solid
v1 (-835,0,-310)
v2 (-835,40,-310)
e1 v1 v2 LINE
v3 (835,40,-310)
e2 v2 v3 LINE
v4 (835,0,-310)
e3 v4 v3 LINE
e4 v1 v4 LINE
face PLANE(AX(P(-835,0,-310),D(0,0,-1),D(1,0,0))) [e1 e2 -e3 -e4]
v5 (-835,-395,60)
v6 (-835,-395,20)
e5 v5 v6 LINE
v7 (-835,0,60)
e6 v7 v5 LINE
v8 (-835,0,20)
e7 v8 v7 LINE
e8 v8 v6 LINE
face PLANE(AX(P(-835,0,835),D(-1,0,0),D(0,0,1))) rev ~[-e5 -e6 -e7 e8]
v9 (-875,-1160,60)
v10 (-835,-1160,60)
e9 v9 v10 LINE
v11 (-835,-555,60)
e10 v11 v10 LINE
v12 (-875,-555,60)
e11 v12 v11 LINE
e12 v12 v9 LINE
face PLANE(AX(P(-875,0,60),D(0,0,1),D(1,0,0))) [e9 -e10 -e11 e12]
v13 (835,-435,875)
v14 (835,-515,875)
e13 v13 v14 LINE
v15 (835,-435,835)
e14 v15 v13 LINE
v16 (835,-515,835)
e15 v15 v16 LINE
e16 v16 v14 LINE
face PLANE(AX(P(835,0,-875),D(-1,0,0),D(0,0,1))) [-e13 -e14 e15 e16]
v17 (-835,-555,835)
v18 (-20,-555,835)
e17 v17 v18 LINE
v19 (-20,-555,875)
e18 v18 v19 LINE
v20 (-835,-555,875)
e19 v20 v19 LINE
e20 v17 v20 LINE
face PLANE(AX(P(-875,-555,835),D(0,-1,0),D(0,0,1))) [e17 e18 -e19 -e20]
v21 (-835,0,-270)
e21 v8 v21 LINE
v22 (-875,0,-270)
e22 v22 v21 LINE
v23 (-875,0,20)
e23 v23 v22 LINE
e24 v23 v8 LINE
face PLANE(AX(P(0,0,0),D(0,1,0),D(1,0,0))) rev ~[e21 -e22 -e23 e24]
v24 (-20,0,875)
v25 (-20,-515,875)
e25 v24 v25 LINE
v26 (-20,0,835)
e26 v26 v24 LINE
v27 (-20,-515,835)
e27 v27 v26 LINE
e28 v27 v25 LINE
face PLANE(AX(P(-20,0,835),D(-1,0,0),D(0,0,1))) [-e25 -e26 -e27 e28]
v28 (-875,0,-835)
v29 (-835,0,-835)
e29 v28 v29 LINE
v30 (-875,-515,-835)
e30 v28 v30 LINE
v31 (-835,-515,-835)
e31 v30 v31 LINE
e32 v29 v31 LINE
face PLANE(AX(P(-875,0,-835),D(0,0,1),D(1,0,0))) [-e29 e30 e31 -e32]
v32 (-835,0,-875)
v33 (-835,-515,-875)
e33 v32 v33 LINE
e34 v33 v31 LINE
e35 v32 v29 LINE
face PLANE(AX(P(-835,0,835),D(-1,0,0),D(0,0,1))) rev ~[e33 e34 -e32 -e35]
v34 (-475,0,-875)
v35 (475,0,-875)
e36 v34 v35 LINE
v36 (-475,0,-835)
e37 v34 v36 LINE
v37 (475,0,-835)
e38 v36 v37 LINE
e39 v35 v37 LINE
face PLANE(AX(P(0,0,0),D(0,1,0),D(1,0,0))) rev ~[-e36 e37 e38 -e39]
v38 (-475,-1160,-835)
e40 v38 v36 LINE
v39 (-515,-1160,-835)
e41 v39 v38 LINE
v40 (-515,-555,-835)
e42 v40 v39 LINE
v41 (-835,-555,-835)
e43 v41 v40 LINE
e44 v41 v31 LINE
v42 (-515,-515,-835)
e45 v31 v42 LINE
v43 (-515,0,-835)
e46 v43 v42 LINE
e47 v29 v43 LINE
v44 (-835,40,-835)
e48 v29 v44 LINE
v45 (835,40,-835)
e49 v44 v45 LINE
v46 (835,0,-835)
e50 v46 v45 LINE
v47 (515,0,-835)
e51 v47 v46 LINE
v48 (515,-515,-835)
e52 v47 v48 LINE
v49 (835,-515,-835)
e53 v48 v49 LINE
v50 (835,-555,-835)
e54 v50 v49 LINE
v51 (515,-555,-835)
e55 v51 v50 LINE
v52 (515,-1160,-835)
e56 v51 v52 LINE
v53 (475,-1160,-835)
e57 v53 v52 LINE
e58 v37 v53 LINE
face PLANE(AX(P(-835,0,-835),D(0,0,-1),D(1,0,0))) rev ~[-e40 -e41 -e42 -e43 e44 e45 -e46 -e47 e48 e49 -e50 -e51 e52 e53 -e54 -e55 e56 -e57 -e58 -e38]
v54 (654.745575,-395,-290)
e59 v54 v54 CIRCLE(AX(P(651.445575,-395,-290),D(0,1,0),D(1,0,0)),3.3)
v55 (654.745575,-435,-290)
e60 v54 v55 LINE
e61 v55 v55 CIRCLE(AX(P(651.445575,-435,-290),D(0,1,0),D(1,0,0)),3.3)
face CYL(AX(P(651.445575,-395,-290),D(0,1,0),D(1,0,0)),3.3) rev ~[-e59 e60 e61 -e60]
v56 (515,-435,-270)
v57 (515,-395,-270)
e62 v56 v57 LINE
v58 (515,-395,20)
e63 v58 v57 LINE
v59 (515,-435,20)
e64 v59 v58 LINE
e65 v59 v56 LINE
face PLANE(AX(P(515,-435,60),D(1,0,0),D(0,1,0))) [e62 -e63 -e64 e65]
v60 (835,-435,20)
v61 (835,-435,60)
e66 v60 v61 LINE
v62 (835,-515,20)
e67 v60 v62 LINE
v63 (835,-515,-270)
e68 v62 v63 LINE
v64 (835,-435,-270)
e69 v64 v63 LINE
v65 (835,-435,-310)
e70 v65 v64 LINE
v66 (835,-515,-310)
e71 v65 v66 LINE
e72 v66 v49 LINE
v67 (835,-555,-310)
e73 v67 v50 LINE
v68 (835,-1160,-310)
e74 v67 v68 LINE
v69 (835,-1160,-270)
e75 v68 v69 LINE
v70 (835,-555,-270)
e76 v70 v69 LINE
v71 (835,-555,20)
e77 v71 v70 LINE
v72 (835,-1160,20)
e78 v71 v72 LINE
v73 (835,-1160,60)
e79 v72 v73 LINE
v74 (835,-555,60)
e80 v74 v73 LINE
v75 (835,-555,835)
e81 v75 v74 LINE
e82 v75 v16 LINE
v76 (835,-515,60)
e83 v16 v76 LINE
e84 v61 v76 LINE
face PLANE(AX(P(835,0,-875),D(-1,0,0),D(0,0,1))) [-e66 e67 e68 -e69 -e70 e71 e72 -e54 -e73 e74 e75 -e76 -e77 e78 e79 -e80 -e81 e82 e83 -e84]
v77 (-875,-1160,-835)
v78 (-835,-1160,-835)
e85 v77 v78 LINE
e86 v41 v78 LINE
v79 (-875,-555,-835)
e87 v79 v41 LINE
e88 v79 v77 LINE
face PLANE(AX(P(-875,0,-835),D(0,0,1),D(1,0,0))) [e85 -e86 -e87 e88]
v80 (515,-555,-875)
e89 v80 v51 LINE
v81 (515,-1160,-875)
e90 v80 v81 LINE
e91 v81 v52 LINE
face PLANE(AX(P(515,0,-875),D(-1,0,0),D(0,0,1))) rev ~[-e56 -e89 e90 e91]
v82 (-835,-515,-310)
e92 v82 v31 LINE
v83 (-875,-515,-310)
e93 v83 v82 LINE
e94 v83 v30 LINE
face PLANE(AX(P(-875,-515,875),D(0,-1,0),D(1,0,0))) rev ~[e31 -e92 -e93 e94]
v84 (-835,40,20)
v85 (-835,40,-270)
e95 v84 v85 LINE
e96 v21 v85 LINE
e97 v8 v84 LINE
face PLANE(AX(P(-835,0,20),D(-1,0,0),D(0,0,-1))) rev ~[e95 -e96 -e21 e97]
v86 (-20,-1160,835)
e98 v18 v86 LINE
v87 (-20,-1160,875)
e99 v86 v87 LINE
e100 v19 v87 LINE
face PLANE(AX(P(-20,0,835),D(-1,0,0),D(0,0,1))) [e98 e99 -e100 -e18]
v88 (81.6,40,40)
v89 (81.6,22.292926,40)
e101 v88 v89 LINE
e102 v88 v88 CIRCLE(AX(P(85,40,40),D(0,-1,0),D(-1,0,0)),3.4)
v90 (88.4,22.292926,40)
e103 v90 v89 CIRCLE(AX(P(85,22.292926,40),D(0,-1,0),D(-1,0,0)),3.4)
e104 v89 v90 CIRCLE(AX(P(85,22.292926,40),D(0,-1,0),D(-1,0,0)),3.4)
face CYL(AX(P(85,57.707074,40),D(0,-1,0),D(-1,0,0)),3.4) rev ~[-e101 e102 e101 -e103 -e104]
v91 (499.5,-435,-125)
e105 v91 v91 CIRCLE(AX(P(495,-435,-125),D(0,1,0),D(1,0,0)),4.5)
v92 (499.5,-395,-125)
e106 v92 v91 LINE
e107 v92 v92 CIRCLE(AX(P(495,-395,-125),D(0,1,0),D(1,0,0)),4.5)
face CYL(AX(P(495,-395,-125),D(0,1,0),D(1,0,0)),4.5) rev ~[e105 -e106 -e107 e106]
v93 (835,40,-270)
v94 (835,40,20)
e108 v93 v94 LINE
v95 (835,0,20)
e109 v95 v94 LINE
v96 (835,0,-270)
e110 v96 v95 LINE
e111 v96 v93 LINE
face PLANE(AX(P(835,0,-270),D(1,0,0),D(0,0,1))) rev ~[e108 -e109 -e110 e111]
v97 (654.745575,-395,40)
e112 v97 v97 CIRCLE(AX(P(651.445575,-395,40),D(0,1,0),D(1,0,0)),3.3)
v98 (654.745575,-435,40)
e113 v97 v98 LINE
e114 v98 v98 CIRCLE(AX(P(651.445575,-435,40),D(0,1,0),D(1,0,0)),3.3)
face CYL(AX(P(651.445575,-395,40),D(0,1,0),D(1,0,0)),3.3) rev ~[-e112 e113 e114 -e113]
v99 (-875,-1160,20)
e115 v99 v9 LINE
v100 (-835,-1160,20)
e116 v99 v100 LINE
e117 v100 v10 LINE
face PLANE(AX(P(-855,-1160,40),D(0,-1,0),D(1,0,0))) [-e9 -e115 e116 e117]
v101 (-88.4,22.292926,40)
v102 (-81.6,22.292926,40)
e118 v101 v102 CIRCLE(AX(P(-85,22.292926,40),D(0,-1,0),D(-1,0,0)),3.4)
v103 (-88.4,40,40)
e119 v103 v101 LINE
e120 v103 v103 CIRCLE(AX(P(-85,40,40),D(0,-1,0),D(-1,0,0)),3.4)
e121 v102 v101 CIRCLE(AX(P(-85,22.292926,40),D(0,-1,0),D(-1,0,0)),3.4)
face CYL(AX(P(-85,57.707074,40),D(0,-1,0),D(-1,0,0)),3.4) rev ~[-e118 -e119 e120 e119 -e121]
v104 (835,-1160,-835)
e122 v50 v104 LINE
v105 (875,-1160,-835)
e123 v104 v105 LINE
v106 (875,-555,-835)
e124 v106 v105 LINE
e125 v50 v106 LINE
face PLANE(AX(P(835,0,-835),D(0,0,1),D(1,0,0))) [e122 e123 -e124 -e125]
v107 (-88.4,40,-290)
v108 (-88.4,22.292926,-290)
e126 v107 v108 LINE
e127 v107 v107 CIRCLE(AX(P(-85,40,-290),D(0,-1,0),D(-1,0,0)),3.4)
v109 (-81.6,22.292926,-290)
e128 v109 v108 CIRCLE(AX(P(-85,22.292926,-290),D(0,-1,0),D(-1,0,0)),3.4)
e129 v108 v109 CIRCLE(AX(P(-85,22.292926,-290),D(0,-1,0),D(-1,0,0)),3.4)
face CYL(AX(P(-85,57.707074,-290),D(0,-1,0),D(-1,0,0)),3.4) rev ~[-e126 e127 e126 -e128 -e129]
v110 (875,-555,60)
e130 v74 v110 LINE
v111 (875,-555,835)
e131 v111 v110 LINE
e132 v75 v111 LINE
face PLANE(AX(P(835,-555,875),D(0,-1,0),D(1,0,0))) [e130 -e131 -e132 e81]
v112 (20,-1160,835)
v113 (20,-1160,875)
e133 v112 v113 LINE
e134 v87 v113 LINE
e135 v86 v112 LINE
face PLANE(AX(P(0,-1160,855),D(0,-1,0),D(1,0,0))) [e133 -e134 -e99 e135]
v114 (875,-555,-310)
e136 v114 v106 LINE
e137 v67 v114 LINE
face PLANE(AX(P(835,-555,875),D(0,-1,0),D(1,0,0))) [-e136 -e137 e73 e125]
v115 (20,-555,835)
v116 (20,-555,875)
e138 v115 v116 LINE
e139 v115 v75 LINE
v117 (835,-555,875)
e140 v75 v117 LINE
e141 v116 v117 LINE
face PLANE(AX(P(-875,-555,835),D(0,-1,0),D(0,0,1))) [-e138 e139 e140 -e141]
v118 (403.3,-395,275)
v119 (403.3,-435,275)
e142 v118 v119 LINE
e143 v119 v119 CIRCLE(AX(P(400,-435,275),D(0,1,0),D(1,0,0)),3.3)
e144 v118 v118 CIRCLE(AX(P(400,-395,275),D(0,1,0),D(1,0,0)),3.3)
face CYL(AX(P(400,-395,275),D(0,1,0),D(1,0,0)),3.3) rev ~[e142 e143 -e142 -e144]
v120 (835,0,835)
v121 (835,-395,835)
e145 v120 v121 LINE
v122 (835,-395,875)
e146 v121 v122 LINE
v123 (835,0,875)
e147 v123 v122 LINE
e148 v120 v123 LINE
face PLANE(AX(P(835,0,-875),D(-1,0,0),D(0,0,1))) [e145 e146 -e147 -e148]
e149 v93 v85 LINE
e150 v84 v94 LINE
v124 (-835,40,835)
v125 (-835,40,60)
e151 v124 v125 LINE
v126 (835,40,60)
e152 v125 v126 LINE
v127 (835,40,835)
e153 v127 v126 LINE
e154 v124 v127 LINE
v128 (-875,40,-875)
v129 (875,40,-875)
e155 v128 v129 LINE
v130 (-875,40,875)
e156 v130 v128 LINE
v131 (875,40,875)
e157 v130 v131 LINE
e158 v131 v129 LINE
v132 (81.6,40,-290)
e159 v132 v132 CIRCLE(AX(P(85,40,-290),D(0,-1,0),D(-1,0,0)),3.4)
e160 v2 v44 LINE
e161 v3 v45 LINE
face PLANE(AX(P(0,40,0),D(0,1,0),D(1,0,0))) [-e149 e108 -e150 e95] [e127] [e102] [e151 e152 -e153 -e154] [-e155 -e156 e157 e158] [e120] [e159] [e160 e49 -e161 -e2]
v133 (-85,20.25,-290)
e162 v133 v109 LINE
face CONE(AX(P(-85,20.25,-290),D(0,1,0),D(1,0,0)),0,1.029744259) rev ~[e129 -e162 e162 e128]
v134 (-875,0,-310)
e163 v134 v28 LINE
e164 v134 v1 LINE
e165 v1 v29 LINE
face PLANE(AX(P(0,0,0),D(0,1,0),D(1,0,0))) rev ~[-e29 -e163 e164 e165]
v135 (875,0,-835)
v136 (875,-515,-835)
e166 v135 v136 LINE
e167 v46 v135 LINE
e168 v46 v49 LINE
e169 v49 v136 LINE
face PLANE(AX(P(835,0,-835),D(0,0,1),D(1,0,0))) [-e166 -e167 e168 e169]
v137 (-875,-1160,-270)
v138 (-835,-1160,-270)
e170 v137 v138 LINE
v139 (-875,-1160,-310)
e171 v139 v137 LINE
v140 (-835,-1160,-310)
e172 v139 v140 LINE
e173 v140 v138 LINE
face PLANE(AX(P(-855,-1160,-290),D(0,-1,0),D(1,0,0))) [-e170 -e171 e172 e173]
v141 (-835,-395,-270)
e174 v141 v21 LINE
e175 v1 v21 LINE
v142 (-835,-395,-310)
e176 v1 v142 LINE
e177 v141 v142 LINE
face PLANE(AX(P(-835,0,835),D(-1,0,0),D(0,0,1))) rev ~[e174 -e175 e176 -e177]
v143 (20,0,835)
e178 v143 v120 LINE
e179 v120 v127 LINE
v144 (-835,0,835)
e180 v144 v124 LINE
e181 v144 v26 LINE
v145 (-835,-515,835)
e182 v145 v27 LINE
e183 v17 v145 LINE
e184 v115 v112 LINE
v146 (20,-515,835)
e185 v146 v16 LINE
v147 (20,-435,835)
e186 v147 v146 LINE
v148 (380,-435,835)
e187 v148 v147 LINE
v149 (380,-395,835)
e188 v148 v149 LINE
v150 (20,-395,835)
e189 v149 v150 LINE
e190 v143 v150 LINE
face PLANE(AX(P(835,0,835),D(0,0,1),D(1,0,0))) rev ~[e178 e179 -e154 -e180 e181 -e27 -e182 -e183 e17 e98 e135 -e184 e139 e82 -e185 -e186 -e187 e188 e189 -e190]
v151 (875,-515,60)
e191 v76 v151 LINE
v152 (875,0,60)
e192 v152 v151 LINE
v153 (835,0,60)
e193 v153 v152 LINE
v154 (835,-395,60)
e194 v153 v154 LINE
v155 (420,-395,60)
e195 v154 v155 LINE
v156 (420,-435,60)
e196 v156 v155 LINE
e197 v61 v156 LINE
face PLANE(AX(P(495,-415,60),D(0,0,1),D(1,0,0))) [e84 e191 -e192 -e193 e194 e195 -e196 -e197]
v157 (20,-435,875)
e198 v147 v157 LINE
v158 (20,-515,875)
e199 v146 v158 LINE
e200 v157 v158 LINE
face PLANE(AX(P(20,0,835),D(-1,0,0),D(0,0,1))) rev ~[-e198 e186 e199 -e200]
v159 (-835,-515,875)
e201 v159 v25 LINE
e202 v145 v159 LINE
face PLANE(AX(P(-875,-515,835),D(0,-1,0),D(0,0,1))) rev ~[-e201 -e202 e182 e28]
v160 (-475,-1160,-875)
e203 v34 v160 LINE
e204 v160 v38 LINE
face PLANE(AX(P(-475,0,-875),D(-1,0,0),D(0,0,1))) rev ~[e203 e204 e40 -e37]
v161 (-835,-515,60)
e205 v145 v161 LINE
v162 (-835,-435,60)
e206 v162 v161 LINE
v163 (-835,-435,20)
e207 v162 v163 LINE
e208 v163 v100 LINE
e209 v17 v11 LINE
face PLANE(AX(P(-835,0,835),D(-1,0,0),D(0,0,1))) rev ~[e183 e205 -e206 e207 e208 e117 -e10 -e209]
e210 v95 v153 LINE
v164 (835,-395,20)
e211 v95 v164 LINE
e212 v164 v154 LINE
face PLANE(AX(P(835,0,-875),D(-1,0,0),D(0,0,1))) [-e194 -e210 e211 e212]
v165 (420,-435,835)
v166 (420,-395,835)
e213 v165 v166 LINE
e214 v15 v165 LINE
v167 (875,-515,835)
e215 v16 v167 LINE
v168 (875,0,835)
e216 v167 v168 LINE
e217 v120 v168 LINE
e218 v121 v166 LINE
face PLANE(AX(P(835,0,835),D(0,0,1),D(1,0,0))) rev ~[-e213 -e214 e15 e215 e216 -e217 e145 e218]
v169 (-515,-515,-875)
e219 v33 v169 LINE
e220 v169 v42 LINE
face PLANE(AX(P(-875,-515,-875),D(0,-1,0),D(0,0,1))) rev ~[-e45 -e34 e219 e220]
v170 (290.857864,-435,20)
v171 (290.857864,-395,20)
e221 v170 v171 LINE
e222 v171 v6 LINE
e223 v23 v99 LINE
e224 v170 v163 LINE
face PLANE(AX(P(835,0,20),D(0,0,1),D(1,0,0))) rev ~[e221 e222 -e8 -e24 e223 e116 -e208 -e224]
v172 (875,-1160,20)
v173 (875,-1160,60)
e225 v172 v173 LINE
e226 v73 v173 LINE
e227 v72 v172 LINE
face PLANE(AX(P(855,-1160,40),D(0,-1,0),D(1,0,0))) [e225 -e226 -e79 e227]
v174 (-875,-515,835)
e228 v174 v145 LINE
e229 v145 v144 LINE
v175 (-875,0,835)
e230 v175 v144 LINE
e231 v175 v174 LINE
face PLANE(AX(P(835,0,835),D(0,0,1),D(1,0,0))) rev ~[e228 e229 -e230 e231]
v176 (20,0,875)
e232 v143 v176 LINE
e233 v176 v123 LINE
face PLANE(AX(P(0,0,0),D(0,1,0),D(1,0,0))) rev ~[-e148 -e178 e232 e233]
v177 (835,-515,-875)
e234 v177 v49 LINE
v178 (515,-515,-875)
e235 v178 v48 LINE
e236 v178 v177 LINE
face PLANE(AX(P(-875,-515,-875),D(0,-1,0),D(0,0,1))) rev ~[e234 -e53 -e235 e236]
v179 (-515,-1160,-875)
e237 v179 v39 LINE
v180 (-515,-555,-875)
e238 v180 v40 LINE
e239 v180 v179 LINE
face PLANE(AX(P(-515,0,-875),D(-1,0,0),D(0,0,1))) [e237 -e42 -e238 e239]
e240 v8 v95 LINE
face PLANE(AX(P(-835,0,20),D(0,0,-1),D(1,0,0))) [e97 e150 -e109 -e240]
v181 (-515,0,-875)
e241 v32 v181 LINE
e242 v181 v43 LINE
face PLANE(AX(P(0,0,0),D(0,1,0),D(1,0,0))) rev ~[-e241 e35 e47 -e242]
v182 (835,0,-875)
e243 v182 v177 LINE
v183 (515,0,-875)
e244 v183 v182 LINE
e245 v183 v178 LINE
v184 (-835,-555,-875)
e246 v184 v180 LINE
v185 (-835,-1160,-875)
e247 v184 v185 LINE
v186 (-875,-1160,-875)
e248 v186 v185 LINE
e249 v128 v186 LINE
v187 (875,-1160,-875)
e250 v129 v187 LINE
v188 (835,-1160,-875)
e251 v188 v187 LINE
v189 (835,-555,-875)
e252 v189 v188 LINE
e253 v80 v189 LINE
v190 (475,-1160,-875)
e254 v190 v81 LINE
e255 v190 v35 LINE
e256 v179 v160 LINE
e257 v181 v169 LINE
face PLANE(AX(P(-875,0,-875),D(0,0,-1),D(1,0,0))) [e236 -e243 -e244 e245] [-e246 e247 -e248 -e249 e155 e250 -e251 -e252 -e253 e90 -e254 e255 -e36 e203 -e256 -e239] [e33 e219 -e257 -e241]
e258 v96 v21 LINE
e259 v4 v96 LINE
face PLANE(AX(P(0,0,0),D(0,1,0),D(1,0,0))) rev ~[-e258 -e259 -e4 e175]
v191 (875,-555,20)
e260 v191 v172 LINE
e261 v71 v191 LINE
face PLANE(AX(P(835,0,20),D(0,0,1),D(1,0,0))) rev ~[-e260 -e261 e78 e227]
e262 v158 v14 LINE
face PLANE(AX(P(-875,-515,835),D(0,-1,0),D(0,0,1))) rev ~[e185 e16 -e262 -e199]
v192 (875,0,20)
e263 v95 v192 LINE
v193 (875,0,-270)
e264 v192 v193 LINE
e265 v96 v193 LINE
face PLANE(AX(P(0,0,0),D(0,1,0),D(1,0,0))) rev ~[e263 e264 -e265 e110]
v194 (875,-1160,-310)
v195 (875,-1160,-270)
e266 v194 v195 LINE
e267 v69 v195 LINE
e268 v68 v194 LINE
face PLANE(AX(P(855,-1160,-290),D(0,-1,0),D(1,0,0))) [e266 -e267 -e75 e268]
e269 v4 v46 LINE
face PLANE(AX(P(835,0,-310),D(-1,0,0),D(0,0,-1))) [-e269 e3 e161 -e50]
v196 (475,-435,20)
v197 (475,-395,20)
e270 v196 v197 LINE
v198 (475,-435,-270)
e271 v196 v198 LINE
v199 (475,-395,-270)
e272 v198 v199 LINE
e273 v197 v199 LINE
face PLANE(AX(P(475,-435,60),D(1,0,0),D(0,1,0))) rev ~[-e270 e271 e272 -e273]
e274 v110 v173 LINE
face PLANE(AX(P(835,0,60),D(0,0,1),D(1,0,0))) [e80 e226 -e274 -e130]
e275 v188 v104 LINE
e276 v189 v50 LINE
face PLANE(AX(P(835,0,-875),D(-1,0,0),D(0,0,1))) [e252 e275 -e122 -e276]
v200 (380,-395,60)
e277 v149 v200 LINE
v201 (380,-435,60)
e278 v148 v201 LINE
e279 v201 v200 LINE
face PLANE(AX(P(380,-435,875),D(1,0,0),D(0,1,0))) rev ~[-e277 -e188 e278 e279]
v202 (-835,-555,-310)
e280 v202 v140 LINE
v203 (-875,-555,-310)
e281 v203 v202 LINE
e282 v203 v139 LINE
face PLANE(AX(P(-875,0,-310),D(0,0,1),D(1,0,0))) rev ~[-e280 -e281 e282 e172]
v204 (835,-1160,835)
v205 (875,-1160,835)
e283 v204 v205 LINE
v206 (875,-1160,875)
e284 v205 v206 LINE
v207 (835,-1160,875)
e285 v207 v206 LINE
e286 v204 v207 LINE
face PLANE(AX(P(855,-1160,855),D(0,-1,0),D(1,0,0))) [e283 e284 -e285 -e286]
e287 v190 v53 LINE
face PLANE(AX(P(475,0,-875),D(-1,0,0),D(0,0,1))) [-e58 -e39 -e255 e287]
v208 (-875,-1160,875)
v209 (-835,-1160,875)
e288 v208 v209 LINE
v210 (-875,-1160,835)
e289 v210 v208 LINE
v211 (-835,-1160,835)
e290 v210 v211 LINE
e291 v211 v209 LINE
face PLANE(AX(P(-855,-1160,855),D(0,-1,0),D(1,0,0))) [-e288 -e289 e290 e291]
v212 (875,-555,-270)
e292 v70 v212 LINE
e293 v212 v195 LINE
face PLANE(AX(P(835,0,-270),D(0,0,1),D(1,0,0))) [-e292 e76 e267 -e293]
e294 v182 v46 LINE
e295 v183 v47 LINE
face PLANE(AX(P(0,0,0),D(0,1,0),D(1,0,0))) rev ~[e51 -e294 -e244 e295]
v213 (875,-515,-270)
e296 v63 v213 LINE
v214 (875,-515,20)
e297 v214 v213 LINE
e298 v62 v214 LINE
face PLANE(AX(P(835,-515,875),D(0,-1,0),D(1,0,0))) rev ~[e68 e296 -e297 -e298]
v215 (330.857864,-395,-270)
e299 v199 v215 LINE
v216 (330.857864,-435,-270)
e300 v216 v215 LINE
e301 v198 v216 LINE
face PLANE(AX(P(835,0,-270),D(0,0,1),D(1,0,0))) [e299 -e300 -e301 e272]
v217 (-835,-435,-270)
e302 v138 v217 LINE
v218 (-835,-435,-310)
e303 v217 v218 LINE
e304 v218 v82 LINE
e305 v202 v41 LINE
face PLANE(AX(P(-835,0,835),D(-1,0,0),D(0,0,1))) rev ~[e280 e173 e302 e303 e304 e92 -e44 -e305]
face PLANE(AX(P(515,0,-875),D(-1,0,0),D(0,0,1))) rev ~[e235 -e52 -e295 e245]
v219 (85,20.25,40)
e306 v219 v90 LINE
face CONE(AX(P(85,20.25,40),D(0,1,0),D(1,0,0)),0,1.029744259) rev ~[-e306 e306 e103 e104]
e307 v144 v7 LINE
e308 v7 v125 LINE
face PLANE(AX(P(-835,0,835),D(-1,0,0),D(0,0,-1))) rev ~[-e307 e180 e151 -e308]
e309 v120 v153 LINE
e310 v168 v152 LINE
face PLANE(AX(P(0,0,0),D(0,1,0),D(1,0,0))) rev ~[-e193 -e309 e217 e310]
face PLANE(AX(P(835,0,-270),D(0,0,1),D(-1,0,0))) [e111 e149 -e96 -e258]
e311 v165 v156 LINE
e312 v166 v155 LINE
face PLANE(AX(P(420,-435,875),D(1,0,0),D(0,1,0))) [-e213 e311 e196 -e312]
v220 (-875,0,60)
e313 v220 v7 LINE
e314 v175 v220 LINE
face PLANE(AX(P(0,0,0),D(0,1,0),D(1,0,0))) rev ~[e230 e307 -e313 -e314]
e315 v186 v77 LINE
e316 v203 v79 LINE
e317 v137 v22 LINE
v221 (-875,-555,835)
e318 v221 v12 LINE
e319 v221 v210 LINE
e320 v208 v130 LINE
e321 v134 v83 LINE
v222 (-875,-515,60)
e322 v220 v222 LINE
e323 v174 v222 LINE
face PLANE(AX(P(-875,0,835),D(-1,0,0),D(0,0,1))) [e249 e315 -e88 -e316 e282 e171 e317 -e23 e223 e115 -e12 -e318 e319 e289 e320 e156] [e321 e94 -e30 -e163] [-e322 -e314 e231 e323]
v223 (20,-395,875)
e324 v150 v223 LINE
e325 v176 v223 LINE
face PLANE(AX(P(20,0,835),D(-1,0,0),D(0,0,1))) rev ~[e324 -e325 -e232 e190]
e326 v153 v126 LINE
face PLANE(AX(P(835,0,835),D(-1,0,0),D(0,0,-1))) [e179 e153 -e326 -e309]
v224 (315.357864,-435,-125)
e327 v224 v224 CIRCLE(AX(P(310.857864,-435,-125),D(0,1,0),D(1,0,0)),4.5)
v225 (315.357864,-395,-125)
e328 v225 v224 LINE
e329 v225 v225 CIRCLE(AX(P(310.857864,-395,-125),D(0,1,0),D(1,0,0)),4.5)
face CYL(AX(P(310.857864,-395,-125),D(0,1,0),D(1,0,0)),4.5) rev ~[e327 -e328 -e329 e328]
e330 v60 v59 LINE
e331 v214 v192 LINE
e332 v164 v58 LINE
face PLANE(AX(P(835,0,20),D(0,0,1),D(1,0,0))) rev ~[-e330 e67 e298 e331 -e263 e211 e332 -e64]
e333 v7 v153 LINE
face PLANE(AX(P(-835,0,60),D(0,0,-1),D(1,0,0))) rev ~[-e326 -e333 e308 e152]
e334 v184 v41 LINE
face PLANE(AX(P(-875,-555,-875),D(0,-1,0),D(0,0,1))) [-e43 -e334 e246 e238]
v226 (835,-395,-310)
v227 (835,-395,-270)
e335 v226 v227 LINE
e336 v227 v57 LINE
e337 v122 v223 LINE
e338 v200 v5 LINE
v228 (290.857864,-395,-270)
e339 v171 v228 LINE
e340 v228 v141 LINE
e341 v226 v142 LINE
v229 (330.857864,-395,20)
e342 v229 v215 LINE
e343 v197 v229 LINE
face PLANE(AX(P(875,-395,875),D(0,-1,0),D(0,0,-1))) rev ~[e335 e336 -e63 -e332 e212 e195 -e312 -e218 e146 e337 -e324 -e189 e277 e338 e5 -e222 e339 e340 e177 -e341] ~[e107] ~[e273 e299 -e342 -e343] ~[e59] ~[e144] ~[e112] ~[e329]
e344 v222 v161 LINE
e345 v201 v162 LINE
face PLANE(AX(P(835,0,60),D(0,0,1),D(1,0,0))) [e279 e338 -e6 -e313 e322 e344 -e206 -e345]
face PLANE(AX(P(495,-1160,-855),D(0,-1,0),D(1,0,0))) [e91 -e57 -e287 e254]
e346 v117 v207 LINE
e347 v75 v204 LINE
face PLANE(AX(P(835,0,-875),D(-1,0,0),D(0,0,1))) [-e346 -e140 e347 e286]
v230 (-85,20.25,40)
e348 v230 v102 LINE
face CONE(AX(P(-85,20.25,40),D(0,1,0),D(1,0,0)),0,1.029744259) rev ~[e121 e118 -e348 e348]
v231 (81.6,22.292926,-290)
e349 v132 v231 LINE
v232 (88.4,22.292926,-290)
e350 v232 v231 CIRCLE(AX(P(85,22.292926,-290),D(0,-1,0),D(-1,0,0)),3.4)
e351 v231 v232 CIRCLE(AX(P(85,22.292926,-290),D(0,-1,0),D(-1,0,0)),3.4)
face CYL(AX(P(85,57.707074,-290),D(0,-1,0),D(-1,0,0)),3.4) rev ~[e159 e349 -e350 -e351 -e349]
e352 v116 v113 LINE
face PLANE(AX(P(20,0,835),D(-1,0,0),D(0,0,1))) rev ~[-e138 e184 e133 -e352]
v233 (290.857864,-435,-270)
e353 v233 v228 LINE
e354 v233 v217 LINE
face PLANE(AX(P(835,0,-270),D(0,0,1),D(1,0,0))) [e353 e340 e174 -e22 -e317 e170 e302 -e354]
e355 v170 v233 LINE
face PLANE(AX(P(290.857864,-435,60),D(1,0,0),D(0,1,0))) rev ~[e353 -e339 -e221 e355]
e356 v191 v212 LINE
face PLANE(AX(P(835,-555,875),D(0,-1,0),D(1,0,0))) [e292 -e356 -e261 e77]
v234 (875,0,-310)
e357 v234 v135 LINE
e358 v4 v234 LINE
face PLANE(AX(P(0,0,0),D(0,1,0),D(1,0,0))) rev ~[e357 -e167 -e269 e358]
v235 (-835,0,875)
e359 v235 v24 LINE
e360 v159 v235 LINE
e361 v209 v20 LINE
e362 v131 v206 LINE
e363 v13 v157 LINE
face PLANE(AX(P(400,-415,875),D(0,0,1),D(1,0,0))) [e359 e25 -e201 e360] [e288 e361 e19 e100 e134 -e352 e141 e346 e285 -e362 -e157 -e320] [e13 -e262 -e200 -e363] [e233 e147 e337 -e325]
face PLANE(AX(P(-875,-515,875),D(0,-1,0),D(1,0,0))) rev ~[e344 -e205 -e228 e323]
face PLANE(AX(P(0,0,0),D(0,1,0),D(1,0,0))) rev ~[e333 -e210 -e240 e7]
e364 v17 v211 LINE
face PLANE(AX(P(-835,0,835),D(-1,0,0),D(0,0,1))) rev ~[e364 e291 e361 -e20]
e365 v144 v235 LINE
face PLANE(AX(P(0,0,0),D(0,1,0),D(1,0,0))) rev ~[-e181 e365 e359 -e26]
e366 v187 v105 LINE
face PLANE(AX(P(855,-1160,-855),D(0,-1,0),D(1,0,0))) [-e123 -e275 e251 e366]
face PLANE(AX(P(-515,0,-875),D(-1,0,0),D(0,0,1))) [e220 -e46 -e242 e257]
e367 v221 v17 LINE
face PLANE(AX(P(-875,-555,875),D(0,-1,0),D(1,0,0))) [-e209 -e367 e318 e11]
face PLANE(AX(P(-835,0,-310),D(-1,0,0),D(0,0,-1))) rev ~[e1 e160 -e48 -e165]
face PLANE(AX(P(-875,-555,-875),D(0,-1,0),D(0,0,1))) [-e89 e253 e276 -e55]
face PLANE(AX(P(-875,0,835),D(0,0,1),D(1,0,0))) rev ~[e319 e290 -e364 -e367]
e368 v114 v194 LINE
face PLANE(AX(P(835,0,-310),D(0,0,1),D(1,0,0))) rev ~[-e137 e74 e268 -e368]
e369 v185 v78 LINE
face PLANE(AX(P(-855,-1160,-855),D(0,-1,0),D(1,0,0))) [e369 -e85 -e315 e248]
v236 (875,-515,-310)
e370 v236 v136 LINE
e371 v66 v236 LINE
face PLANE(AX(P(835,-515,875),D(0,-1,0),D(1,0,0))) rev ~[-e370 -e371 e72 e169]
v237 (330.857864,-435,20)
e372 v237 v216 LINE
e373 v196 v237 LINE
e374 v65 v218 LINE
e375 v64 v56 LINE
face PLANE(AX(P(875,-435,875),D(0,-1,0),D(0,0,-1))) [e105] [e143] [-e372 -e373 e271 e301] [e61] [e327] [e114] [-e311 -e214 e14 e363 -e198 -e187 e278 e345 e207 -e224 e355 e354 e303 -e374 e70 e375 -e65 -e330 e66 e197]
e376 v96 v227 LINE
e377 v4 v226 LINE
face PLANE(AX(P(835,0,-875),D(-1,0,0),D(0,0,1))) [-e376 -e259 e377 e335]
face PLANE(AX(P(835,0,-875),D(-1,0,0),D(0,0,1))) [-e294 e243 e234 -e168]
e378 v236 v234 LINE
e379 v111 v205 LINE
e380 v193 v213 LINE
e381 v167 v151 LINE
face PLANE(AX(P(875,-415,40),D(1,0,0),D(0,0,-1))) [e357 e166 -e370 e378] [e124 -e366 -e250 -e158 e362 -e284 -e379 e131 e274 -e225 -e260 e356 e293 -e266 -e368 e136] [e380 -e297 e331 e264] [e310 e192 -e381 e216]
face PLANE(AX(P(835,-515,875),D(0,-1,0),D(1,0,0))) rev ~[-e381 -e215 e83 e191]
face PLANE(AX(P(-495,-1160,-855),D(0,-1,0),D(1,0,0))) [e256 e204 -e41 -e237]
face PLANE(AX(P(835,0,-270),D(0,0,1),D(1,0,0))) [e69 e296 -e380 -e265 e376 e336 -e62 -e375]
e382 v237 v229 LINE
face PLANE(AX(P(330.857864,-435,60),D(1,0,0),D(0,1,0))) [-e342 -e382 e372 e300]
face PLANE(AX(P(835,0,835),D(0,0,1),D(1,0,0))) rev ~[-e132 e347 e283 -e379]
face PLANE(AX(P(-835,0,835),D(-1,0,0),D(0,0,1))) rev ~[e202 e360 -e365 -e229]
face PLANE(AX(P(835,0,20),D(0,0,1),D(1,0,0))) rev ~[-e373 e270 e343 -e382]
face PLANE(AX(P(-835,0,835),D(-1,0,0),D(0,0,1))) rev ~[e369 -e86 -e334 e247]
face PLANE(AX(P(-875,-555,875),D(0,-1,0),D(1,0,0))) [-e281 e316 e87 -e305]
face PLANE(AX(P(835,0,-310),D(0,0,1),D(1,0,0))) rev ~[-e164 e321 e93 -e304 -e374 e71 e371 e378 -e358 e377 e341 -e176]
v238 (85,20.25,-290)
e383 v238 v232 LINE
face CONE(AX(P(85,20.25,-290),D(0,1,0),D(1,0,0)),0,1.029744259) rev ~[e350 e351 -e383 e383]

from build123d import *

# Parameters (mm, degrees)
SKETCH1_W             = 1750
SKETCH1_H             = 1750
SKETCH1_W_2           = 1670
SKETCH1_H_2           = 525
SKETCH1_H_3           = 775
BOSS_EXTRUDE1_DEPTH   = 40
SKETCH2_W             = 40
SKETCH2_H             = 40
BOSS_EXTRUDE2_DEPTH   = 1160
SKETCH3_W             = 40
SKETCH3_H             = 40
BOSS_EXTRUDE3_DEPTH   = 1710
SKETCH4_W             = 40
SKETCH4_H             = 40
BOSS_EXTRUDE4_DEPTH   = 1710
SKETCH5_W             = 40
SKETCH5_H             = 40
BOSS_EXTRUDE5_DEPTH   = 1710
SKETCH6_W             = 950
SKETCH6_H             = 40
CUT_EXTRUDE1_DEPTH    = 40
SKETCH9_W             = 290
SKETCH9_H             = 40
CUT_EXTRUDE4_DEPTH    = 40
M8_TAPPED_HOLE1_D     = 6.8
M8_TAPPED_HOLE1_DEPTH = 17.707073895
M8_TAPPED_HOLE1_TIP   = 2.042926105
SKETCH13_W            = 40
SKETCH13_H            = 40
BOSS_EXTRUDE6_DEPTH   = 1710
SKETCH15_W            = 815
SKETCH15_H            = 40
CUT_EXTRUDE5_DEPTH    = 40
SKETCH16_W            = 40
SKETCH16_H            = 40
BOSS_EXTRUDE7_DEPTH   = 815
SKETCH18_R            = 3.3
CUT_EXTRUDE6_DEPTH    = 40
SKETCH20_R            = 3.3
CUT_EXTRUDE8_DEPTH    = 40
SKETCH22_W            = 40
SKETCH22_H            = 40
BOSS_EXTRUDE8_DEPTH   = 330
SKETCH23_R            = 4.5
CUT_EXTRUDE9_DEPTH    = 40


with BuildPart() as part:
    # Sketch1 → Boss-Extrude1 (new body)
    with BuildSketch(Plane(origin=(0, 0, 0), x_dir=(1, 0, 0), z_dir=(0, 1, 0))):
        Rectangle(SKETCH1_W, SKETCH1_H)
        with Locations((0, 572.5)):
            Rectangle(SKETCH1_W_2, SKETCH1_H_2, mode=Mode.SUBTRACT)
        with Locations((0, -447.5)):
            Rectangle(SKETCH1_W_2, SKETCH1_H_3, mode=Mode.SUBTRACT)
        Polygon((-835, -20), (835, -20), (835, 20), (835, 270), (-835, 270), (-835, 20), align=None, mode=Mode.SUBTRACT)
    extrude(amount=BOSS_EXTRUDE1_DEPTH)

    # Sketch2 → Boss-Extrude2 (add)
    with BuildSketch(Plane.XZ):
        with Locations((-855, 855)):
            Rectangle(SKETCH2_W, SKETCH2_H)
        with Locations((855, 855)):
            Rectangle(SKETCH2_W, SKETCH2_H)
        with Locations((0, 855)):
            Rectangle(SKETCH2_W, SKETCH2_H)
        with Locations((855, 40)):
            Rectangle(SKETCH2_W, SKETCH2_H)
        with Locations((-855, 40)):
            Rectangle(SKETCH2_W, SKETCH2_H)
        with Locations((-855, -855)):
            Rectangle(SKETCH2_W, SKETCH2_H)
        with Locations((855, -855)):
            Rectangle(SKETCH2_W, SKETCH2_H)
        with Locations((495, -855)):
            Rectangle(SKETCH2_W, SKETCH2_H)
        with Locations((-495, -855)):
            Rectangle(SKETCH2_W, SKETCH2_H)
        with Locations((-855, -290)):
            Rectangle(SKETCH2_W, SKETCH2_H)
        with Locations((855, -290)):
            Rectangle(SKETCH2_W, SKETCH2_H)
    extrude(amount=BOSS_EXTRUDE2_DEPTH)

    # Sketch3 → Boss-Extrude3 (add)
    with BuildSketch(Plane.XY.offset(875)):
        with Locations((-855, -535)):
            Rectangle(SKETCH3_W, SKETCH3_H)
        with Locations((855, -535)):
            Rectangle(SKETCH3_W, SKETCH3_H)
    extrude(amount=-BOSS_EXTRUDE3_DEPTH)

    # Sketch4 → Boss-Extrude4 (add)
    with BuildSketch(Plane.ZY.offset(875)):
        with Locations((855, -535)):
            Rectangle(SKETCH4_W, SKETCH4_H)
    extrude(amount=-BOSS_EXTRUDE4_DEPTH)

    # Sketch5 → Boss-Extrude5 (add)
    with BuildSketch(Plane.ZY.offset(875)):
        with Locations((-855, -535)):
            Rectangle(SKETCH5_W, SKETCH5_H)
    extrude(amount=-BOSS_EXTRUDE5_DEPTH)

    # Sketch6 → Cut-Extrude1 (cut)
    with BuildSketch(Plane(origin=(0, 0, -875), x_dir=(-1, 0, 0), z_dir=(0, 0, -1))):
        with Locations((0, -535)):
            Rectangle(SKETCH6_W, SKETCH6_H)
    extrude(amount=-CUT_EXTRUDE1_DEPTH, mode=Mode.SUBTRACT)

    # Sketch9 → Cut-Extrude4 (cut)
    with BuildSketch(Plane.ZY.offset(875)):
        with Locations((-125, -535)):
            Rectangle(SKETCH9_W, SKETCH9_H)
    extrude(amount=-CUT_EXTRUDE4_DEPTH, mode=Mode.SUBTRACT)

    # M8 Tapped Hole1
    with Locations(Plane(origin=(0, 40, 0), x_dir=(1, 0, 0), z_dir=(0, 1, 0))):
        with Locations((85, -40), (-85, -40), (-85, 290), (85, 290)):
            Hole(M8_TAPPED_HOLE1_D / 2, depth=M8_TAPPED_HOLE1_DEPTH)
            with Locations((0, 0, -(M8_TAPPED_HOLE1_DEPTH + M8_TAPPED_HOLE1_TIP / 2))):  # 118° drill point
                Cone(0, M8_TAPPED_HOLE1_D / 2, M8_TAPPED_HOLE1_TIP, mode=Mode.SUBTRACT)

    # Sketch13 → Boss-Extrude6 (add)
    with BuildSketch(Plane(origin=(875, 0, 0), x_dir=(0, 0, -1), z_dir=(1, 0, 0))):
        with Locations((-40, -415)):
            Rectangle(SKETCH13_W, SKETCH13_H)
        with Locations((290, -415)):
            Rectangle(SKETCH13_W, SKETCH13_H)
        with Locations((-855, -415)):
            Rectangle(SKETCH13_W, SKETCH13_H)
    extrude(amount=-BOSS_EXTRUDE6_DEPTH)

    # Sketch15 → Cut-Extrude5 (cut)
    with BuildSketch(Plane.XY.offset(875)):
        with Locations((-427.5, -415)):
            Rectangle(SKETCH15_W, SKETCH15_H)
    extrude(amount=-CUT_EXTRUDE5_DEPTH, mode=Mode.SUBTRACT)

    # Sketch16 → Boss-Extrude7 (add)
    with BuildSketch(Plane.XY.offset(875)):
        with Locations((400, -415)):
            Rectangle(SKETCH16_W, SKETCH16_H)
    extrude(amount=-BOSS_EXTRUDE7_DEPTH)

    # Sketch18 → Cut-Extrude6 (cut)
    with BuildSketch(Plane(origin=(0, -395, 0), x_dir=(1, 0, 0), z_dir=(0, 1, 0))):
        with Locations((400, -275)):
            Circle(SKETCH18_R)
    extrude(amount=-CUT_EXTRUDE6_DEPTH, mode=Mode.SUBTRACT)

    # Sketch20 → Cut-Extrude8 (cut)
    with BuildSketch(Plane(origin=(0, -395, 0), x_dir=(1, 0, 0), z_dir=(0, 1, 0))):
        with Locations((651.445575403, -40)):
            Circle(SKETCH20_R)
        with Locations((651.445575403, 290)):
            Circle(SKETCH20_R)
    extrude(amount=-CUT_EXTRUDE8_DEPTH, mode=Mode.SUBTRACT)

    # Sketch22 → Boss-Extrude8 (add)
    with BuildSketch(Plane.XY.offset(60)):
        with Locations((495, -415)):
            Rectangle(SKETCH22_W, SKETCH22_H)
        with Locations((310.857864376, -415)):
            Rectangle(SKETCH22_W, SKETCH22_H)
    extrude(amount=-BOSS_EXTRUDE8_DEPTH)

    # Sketch23 → Cut-Extrude9 (cut)
    with BuildSketch(Plane(origin=(0, -395, 0), x_dir=(1, 0, 0), z_dir=(0, 1, 0))):
        with Locations((310.857864376, 125)):
            Circle(SKETCH23_R)
        with Locations((495, 125)):
            Circle(SKETCH23_R)
    extrude(amount=-CUT_EXTRUDE9_DEPTH, mode=Mode.SUBTRACT)


solid = part.part
